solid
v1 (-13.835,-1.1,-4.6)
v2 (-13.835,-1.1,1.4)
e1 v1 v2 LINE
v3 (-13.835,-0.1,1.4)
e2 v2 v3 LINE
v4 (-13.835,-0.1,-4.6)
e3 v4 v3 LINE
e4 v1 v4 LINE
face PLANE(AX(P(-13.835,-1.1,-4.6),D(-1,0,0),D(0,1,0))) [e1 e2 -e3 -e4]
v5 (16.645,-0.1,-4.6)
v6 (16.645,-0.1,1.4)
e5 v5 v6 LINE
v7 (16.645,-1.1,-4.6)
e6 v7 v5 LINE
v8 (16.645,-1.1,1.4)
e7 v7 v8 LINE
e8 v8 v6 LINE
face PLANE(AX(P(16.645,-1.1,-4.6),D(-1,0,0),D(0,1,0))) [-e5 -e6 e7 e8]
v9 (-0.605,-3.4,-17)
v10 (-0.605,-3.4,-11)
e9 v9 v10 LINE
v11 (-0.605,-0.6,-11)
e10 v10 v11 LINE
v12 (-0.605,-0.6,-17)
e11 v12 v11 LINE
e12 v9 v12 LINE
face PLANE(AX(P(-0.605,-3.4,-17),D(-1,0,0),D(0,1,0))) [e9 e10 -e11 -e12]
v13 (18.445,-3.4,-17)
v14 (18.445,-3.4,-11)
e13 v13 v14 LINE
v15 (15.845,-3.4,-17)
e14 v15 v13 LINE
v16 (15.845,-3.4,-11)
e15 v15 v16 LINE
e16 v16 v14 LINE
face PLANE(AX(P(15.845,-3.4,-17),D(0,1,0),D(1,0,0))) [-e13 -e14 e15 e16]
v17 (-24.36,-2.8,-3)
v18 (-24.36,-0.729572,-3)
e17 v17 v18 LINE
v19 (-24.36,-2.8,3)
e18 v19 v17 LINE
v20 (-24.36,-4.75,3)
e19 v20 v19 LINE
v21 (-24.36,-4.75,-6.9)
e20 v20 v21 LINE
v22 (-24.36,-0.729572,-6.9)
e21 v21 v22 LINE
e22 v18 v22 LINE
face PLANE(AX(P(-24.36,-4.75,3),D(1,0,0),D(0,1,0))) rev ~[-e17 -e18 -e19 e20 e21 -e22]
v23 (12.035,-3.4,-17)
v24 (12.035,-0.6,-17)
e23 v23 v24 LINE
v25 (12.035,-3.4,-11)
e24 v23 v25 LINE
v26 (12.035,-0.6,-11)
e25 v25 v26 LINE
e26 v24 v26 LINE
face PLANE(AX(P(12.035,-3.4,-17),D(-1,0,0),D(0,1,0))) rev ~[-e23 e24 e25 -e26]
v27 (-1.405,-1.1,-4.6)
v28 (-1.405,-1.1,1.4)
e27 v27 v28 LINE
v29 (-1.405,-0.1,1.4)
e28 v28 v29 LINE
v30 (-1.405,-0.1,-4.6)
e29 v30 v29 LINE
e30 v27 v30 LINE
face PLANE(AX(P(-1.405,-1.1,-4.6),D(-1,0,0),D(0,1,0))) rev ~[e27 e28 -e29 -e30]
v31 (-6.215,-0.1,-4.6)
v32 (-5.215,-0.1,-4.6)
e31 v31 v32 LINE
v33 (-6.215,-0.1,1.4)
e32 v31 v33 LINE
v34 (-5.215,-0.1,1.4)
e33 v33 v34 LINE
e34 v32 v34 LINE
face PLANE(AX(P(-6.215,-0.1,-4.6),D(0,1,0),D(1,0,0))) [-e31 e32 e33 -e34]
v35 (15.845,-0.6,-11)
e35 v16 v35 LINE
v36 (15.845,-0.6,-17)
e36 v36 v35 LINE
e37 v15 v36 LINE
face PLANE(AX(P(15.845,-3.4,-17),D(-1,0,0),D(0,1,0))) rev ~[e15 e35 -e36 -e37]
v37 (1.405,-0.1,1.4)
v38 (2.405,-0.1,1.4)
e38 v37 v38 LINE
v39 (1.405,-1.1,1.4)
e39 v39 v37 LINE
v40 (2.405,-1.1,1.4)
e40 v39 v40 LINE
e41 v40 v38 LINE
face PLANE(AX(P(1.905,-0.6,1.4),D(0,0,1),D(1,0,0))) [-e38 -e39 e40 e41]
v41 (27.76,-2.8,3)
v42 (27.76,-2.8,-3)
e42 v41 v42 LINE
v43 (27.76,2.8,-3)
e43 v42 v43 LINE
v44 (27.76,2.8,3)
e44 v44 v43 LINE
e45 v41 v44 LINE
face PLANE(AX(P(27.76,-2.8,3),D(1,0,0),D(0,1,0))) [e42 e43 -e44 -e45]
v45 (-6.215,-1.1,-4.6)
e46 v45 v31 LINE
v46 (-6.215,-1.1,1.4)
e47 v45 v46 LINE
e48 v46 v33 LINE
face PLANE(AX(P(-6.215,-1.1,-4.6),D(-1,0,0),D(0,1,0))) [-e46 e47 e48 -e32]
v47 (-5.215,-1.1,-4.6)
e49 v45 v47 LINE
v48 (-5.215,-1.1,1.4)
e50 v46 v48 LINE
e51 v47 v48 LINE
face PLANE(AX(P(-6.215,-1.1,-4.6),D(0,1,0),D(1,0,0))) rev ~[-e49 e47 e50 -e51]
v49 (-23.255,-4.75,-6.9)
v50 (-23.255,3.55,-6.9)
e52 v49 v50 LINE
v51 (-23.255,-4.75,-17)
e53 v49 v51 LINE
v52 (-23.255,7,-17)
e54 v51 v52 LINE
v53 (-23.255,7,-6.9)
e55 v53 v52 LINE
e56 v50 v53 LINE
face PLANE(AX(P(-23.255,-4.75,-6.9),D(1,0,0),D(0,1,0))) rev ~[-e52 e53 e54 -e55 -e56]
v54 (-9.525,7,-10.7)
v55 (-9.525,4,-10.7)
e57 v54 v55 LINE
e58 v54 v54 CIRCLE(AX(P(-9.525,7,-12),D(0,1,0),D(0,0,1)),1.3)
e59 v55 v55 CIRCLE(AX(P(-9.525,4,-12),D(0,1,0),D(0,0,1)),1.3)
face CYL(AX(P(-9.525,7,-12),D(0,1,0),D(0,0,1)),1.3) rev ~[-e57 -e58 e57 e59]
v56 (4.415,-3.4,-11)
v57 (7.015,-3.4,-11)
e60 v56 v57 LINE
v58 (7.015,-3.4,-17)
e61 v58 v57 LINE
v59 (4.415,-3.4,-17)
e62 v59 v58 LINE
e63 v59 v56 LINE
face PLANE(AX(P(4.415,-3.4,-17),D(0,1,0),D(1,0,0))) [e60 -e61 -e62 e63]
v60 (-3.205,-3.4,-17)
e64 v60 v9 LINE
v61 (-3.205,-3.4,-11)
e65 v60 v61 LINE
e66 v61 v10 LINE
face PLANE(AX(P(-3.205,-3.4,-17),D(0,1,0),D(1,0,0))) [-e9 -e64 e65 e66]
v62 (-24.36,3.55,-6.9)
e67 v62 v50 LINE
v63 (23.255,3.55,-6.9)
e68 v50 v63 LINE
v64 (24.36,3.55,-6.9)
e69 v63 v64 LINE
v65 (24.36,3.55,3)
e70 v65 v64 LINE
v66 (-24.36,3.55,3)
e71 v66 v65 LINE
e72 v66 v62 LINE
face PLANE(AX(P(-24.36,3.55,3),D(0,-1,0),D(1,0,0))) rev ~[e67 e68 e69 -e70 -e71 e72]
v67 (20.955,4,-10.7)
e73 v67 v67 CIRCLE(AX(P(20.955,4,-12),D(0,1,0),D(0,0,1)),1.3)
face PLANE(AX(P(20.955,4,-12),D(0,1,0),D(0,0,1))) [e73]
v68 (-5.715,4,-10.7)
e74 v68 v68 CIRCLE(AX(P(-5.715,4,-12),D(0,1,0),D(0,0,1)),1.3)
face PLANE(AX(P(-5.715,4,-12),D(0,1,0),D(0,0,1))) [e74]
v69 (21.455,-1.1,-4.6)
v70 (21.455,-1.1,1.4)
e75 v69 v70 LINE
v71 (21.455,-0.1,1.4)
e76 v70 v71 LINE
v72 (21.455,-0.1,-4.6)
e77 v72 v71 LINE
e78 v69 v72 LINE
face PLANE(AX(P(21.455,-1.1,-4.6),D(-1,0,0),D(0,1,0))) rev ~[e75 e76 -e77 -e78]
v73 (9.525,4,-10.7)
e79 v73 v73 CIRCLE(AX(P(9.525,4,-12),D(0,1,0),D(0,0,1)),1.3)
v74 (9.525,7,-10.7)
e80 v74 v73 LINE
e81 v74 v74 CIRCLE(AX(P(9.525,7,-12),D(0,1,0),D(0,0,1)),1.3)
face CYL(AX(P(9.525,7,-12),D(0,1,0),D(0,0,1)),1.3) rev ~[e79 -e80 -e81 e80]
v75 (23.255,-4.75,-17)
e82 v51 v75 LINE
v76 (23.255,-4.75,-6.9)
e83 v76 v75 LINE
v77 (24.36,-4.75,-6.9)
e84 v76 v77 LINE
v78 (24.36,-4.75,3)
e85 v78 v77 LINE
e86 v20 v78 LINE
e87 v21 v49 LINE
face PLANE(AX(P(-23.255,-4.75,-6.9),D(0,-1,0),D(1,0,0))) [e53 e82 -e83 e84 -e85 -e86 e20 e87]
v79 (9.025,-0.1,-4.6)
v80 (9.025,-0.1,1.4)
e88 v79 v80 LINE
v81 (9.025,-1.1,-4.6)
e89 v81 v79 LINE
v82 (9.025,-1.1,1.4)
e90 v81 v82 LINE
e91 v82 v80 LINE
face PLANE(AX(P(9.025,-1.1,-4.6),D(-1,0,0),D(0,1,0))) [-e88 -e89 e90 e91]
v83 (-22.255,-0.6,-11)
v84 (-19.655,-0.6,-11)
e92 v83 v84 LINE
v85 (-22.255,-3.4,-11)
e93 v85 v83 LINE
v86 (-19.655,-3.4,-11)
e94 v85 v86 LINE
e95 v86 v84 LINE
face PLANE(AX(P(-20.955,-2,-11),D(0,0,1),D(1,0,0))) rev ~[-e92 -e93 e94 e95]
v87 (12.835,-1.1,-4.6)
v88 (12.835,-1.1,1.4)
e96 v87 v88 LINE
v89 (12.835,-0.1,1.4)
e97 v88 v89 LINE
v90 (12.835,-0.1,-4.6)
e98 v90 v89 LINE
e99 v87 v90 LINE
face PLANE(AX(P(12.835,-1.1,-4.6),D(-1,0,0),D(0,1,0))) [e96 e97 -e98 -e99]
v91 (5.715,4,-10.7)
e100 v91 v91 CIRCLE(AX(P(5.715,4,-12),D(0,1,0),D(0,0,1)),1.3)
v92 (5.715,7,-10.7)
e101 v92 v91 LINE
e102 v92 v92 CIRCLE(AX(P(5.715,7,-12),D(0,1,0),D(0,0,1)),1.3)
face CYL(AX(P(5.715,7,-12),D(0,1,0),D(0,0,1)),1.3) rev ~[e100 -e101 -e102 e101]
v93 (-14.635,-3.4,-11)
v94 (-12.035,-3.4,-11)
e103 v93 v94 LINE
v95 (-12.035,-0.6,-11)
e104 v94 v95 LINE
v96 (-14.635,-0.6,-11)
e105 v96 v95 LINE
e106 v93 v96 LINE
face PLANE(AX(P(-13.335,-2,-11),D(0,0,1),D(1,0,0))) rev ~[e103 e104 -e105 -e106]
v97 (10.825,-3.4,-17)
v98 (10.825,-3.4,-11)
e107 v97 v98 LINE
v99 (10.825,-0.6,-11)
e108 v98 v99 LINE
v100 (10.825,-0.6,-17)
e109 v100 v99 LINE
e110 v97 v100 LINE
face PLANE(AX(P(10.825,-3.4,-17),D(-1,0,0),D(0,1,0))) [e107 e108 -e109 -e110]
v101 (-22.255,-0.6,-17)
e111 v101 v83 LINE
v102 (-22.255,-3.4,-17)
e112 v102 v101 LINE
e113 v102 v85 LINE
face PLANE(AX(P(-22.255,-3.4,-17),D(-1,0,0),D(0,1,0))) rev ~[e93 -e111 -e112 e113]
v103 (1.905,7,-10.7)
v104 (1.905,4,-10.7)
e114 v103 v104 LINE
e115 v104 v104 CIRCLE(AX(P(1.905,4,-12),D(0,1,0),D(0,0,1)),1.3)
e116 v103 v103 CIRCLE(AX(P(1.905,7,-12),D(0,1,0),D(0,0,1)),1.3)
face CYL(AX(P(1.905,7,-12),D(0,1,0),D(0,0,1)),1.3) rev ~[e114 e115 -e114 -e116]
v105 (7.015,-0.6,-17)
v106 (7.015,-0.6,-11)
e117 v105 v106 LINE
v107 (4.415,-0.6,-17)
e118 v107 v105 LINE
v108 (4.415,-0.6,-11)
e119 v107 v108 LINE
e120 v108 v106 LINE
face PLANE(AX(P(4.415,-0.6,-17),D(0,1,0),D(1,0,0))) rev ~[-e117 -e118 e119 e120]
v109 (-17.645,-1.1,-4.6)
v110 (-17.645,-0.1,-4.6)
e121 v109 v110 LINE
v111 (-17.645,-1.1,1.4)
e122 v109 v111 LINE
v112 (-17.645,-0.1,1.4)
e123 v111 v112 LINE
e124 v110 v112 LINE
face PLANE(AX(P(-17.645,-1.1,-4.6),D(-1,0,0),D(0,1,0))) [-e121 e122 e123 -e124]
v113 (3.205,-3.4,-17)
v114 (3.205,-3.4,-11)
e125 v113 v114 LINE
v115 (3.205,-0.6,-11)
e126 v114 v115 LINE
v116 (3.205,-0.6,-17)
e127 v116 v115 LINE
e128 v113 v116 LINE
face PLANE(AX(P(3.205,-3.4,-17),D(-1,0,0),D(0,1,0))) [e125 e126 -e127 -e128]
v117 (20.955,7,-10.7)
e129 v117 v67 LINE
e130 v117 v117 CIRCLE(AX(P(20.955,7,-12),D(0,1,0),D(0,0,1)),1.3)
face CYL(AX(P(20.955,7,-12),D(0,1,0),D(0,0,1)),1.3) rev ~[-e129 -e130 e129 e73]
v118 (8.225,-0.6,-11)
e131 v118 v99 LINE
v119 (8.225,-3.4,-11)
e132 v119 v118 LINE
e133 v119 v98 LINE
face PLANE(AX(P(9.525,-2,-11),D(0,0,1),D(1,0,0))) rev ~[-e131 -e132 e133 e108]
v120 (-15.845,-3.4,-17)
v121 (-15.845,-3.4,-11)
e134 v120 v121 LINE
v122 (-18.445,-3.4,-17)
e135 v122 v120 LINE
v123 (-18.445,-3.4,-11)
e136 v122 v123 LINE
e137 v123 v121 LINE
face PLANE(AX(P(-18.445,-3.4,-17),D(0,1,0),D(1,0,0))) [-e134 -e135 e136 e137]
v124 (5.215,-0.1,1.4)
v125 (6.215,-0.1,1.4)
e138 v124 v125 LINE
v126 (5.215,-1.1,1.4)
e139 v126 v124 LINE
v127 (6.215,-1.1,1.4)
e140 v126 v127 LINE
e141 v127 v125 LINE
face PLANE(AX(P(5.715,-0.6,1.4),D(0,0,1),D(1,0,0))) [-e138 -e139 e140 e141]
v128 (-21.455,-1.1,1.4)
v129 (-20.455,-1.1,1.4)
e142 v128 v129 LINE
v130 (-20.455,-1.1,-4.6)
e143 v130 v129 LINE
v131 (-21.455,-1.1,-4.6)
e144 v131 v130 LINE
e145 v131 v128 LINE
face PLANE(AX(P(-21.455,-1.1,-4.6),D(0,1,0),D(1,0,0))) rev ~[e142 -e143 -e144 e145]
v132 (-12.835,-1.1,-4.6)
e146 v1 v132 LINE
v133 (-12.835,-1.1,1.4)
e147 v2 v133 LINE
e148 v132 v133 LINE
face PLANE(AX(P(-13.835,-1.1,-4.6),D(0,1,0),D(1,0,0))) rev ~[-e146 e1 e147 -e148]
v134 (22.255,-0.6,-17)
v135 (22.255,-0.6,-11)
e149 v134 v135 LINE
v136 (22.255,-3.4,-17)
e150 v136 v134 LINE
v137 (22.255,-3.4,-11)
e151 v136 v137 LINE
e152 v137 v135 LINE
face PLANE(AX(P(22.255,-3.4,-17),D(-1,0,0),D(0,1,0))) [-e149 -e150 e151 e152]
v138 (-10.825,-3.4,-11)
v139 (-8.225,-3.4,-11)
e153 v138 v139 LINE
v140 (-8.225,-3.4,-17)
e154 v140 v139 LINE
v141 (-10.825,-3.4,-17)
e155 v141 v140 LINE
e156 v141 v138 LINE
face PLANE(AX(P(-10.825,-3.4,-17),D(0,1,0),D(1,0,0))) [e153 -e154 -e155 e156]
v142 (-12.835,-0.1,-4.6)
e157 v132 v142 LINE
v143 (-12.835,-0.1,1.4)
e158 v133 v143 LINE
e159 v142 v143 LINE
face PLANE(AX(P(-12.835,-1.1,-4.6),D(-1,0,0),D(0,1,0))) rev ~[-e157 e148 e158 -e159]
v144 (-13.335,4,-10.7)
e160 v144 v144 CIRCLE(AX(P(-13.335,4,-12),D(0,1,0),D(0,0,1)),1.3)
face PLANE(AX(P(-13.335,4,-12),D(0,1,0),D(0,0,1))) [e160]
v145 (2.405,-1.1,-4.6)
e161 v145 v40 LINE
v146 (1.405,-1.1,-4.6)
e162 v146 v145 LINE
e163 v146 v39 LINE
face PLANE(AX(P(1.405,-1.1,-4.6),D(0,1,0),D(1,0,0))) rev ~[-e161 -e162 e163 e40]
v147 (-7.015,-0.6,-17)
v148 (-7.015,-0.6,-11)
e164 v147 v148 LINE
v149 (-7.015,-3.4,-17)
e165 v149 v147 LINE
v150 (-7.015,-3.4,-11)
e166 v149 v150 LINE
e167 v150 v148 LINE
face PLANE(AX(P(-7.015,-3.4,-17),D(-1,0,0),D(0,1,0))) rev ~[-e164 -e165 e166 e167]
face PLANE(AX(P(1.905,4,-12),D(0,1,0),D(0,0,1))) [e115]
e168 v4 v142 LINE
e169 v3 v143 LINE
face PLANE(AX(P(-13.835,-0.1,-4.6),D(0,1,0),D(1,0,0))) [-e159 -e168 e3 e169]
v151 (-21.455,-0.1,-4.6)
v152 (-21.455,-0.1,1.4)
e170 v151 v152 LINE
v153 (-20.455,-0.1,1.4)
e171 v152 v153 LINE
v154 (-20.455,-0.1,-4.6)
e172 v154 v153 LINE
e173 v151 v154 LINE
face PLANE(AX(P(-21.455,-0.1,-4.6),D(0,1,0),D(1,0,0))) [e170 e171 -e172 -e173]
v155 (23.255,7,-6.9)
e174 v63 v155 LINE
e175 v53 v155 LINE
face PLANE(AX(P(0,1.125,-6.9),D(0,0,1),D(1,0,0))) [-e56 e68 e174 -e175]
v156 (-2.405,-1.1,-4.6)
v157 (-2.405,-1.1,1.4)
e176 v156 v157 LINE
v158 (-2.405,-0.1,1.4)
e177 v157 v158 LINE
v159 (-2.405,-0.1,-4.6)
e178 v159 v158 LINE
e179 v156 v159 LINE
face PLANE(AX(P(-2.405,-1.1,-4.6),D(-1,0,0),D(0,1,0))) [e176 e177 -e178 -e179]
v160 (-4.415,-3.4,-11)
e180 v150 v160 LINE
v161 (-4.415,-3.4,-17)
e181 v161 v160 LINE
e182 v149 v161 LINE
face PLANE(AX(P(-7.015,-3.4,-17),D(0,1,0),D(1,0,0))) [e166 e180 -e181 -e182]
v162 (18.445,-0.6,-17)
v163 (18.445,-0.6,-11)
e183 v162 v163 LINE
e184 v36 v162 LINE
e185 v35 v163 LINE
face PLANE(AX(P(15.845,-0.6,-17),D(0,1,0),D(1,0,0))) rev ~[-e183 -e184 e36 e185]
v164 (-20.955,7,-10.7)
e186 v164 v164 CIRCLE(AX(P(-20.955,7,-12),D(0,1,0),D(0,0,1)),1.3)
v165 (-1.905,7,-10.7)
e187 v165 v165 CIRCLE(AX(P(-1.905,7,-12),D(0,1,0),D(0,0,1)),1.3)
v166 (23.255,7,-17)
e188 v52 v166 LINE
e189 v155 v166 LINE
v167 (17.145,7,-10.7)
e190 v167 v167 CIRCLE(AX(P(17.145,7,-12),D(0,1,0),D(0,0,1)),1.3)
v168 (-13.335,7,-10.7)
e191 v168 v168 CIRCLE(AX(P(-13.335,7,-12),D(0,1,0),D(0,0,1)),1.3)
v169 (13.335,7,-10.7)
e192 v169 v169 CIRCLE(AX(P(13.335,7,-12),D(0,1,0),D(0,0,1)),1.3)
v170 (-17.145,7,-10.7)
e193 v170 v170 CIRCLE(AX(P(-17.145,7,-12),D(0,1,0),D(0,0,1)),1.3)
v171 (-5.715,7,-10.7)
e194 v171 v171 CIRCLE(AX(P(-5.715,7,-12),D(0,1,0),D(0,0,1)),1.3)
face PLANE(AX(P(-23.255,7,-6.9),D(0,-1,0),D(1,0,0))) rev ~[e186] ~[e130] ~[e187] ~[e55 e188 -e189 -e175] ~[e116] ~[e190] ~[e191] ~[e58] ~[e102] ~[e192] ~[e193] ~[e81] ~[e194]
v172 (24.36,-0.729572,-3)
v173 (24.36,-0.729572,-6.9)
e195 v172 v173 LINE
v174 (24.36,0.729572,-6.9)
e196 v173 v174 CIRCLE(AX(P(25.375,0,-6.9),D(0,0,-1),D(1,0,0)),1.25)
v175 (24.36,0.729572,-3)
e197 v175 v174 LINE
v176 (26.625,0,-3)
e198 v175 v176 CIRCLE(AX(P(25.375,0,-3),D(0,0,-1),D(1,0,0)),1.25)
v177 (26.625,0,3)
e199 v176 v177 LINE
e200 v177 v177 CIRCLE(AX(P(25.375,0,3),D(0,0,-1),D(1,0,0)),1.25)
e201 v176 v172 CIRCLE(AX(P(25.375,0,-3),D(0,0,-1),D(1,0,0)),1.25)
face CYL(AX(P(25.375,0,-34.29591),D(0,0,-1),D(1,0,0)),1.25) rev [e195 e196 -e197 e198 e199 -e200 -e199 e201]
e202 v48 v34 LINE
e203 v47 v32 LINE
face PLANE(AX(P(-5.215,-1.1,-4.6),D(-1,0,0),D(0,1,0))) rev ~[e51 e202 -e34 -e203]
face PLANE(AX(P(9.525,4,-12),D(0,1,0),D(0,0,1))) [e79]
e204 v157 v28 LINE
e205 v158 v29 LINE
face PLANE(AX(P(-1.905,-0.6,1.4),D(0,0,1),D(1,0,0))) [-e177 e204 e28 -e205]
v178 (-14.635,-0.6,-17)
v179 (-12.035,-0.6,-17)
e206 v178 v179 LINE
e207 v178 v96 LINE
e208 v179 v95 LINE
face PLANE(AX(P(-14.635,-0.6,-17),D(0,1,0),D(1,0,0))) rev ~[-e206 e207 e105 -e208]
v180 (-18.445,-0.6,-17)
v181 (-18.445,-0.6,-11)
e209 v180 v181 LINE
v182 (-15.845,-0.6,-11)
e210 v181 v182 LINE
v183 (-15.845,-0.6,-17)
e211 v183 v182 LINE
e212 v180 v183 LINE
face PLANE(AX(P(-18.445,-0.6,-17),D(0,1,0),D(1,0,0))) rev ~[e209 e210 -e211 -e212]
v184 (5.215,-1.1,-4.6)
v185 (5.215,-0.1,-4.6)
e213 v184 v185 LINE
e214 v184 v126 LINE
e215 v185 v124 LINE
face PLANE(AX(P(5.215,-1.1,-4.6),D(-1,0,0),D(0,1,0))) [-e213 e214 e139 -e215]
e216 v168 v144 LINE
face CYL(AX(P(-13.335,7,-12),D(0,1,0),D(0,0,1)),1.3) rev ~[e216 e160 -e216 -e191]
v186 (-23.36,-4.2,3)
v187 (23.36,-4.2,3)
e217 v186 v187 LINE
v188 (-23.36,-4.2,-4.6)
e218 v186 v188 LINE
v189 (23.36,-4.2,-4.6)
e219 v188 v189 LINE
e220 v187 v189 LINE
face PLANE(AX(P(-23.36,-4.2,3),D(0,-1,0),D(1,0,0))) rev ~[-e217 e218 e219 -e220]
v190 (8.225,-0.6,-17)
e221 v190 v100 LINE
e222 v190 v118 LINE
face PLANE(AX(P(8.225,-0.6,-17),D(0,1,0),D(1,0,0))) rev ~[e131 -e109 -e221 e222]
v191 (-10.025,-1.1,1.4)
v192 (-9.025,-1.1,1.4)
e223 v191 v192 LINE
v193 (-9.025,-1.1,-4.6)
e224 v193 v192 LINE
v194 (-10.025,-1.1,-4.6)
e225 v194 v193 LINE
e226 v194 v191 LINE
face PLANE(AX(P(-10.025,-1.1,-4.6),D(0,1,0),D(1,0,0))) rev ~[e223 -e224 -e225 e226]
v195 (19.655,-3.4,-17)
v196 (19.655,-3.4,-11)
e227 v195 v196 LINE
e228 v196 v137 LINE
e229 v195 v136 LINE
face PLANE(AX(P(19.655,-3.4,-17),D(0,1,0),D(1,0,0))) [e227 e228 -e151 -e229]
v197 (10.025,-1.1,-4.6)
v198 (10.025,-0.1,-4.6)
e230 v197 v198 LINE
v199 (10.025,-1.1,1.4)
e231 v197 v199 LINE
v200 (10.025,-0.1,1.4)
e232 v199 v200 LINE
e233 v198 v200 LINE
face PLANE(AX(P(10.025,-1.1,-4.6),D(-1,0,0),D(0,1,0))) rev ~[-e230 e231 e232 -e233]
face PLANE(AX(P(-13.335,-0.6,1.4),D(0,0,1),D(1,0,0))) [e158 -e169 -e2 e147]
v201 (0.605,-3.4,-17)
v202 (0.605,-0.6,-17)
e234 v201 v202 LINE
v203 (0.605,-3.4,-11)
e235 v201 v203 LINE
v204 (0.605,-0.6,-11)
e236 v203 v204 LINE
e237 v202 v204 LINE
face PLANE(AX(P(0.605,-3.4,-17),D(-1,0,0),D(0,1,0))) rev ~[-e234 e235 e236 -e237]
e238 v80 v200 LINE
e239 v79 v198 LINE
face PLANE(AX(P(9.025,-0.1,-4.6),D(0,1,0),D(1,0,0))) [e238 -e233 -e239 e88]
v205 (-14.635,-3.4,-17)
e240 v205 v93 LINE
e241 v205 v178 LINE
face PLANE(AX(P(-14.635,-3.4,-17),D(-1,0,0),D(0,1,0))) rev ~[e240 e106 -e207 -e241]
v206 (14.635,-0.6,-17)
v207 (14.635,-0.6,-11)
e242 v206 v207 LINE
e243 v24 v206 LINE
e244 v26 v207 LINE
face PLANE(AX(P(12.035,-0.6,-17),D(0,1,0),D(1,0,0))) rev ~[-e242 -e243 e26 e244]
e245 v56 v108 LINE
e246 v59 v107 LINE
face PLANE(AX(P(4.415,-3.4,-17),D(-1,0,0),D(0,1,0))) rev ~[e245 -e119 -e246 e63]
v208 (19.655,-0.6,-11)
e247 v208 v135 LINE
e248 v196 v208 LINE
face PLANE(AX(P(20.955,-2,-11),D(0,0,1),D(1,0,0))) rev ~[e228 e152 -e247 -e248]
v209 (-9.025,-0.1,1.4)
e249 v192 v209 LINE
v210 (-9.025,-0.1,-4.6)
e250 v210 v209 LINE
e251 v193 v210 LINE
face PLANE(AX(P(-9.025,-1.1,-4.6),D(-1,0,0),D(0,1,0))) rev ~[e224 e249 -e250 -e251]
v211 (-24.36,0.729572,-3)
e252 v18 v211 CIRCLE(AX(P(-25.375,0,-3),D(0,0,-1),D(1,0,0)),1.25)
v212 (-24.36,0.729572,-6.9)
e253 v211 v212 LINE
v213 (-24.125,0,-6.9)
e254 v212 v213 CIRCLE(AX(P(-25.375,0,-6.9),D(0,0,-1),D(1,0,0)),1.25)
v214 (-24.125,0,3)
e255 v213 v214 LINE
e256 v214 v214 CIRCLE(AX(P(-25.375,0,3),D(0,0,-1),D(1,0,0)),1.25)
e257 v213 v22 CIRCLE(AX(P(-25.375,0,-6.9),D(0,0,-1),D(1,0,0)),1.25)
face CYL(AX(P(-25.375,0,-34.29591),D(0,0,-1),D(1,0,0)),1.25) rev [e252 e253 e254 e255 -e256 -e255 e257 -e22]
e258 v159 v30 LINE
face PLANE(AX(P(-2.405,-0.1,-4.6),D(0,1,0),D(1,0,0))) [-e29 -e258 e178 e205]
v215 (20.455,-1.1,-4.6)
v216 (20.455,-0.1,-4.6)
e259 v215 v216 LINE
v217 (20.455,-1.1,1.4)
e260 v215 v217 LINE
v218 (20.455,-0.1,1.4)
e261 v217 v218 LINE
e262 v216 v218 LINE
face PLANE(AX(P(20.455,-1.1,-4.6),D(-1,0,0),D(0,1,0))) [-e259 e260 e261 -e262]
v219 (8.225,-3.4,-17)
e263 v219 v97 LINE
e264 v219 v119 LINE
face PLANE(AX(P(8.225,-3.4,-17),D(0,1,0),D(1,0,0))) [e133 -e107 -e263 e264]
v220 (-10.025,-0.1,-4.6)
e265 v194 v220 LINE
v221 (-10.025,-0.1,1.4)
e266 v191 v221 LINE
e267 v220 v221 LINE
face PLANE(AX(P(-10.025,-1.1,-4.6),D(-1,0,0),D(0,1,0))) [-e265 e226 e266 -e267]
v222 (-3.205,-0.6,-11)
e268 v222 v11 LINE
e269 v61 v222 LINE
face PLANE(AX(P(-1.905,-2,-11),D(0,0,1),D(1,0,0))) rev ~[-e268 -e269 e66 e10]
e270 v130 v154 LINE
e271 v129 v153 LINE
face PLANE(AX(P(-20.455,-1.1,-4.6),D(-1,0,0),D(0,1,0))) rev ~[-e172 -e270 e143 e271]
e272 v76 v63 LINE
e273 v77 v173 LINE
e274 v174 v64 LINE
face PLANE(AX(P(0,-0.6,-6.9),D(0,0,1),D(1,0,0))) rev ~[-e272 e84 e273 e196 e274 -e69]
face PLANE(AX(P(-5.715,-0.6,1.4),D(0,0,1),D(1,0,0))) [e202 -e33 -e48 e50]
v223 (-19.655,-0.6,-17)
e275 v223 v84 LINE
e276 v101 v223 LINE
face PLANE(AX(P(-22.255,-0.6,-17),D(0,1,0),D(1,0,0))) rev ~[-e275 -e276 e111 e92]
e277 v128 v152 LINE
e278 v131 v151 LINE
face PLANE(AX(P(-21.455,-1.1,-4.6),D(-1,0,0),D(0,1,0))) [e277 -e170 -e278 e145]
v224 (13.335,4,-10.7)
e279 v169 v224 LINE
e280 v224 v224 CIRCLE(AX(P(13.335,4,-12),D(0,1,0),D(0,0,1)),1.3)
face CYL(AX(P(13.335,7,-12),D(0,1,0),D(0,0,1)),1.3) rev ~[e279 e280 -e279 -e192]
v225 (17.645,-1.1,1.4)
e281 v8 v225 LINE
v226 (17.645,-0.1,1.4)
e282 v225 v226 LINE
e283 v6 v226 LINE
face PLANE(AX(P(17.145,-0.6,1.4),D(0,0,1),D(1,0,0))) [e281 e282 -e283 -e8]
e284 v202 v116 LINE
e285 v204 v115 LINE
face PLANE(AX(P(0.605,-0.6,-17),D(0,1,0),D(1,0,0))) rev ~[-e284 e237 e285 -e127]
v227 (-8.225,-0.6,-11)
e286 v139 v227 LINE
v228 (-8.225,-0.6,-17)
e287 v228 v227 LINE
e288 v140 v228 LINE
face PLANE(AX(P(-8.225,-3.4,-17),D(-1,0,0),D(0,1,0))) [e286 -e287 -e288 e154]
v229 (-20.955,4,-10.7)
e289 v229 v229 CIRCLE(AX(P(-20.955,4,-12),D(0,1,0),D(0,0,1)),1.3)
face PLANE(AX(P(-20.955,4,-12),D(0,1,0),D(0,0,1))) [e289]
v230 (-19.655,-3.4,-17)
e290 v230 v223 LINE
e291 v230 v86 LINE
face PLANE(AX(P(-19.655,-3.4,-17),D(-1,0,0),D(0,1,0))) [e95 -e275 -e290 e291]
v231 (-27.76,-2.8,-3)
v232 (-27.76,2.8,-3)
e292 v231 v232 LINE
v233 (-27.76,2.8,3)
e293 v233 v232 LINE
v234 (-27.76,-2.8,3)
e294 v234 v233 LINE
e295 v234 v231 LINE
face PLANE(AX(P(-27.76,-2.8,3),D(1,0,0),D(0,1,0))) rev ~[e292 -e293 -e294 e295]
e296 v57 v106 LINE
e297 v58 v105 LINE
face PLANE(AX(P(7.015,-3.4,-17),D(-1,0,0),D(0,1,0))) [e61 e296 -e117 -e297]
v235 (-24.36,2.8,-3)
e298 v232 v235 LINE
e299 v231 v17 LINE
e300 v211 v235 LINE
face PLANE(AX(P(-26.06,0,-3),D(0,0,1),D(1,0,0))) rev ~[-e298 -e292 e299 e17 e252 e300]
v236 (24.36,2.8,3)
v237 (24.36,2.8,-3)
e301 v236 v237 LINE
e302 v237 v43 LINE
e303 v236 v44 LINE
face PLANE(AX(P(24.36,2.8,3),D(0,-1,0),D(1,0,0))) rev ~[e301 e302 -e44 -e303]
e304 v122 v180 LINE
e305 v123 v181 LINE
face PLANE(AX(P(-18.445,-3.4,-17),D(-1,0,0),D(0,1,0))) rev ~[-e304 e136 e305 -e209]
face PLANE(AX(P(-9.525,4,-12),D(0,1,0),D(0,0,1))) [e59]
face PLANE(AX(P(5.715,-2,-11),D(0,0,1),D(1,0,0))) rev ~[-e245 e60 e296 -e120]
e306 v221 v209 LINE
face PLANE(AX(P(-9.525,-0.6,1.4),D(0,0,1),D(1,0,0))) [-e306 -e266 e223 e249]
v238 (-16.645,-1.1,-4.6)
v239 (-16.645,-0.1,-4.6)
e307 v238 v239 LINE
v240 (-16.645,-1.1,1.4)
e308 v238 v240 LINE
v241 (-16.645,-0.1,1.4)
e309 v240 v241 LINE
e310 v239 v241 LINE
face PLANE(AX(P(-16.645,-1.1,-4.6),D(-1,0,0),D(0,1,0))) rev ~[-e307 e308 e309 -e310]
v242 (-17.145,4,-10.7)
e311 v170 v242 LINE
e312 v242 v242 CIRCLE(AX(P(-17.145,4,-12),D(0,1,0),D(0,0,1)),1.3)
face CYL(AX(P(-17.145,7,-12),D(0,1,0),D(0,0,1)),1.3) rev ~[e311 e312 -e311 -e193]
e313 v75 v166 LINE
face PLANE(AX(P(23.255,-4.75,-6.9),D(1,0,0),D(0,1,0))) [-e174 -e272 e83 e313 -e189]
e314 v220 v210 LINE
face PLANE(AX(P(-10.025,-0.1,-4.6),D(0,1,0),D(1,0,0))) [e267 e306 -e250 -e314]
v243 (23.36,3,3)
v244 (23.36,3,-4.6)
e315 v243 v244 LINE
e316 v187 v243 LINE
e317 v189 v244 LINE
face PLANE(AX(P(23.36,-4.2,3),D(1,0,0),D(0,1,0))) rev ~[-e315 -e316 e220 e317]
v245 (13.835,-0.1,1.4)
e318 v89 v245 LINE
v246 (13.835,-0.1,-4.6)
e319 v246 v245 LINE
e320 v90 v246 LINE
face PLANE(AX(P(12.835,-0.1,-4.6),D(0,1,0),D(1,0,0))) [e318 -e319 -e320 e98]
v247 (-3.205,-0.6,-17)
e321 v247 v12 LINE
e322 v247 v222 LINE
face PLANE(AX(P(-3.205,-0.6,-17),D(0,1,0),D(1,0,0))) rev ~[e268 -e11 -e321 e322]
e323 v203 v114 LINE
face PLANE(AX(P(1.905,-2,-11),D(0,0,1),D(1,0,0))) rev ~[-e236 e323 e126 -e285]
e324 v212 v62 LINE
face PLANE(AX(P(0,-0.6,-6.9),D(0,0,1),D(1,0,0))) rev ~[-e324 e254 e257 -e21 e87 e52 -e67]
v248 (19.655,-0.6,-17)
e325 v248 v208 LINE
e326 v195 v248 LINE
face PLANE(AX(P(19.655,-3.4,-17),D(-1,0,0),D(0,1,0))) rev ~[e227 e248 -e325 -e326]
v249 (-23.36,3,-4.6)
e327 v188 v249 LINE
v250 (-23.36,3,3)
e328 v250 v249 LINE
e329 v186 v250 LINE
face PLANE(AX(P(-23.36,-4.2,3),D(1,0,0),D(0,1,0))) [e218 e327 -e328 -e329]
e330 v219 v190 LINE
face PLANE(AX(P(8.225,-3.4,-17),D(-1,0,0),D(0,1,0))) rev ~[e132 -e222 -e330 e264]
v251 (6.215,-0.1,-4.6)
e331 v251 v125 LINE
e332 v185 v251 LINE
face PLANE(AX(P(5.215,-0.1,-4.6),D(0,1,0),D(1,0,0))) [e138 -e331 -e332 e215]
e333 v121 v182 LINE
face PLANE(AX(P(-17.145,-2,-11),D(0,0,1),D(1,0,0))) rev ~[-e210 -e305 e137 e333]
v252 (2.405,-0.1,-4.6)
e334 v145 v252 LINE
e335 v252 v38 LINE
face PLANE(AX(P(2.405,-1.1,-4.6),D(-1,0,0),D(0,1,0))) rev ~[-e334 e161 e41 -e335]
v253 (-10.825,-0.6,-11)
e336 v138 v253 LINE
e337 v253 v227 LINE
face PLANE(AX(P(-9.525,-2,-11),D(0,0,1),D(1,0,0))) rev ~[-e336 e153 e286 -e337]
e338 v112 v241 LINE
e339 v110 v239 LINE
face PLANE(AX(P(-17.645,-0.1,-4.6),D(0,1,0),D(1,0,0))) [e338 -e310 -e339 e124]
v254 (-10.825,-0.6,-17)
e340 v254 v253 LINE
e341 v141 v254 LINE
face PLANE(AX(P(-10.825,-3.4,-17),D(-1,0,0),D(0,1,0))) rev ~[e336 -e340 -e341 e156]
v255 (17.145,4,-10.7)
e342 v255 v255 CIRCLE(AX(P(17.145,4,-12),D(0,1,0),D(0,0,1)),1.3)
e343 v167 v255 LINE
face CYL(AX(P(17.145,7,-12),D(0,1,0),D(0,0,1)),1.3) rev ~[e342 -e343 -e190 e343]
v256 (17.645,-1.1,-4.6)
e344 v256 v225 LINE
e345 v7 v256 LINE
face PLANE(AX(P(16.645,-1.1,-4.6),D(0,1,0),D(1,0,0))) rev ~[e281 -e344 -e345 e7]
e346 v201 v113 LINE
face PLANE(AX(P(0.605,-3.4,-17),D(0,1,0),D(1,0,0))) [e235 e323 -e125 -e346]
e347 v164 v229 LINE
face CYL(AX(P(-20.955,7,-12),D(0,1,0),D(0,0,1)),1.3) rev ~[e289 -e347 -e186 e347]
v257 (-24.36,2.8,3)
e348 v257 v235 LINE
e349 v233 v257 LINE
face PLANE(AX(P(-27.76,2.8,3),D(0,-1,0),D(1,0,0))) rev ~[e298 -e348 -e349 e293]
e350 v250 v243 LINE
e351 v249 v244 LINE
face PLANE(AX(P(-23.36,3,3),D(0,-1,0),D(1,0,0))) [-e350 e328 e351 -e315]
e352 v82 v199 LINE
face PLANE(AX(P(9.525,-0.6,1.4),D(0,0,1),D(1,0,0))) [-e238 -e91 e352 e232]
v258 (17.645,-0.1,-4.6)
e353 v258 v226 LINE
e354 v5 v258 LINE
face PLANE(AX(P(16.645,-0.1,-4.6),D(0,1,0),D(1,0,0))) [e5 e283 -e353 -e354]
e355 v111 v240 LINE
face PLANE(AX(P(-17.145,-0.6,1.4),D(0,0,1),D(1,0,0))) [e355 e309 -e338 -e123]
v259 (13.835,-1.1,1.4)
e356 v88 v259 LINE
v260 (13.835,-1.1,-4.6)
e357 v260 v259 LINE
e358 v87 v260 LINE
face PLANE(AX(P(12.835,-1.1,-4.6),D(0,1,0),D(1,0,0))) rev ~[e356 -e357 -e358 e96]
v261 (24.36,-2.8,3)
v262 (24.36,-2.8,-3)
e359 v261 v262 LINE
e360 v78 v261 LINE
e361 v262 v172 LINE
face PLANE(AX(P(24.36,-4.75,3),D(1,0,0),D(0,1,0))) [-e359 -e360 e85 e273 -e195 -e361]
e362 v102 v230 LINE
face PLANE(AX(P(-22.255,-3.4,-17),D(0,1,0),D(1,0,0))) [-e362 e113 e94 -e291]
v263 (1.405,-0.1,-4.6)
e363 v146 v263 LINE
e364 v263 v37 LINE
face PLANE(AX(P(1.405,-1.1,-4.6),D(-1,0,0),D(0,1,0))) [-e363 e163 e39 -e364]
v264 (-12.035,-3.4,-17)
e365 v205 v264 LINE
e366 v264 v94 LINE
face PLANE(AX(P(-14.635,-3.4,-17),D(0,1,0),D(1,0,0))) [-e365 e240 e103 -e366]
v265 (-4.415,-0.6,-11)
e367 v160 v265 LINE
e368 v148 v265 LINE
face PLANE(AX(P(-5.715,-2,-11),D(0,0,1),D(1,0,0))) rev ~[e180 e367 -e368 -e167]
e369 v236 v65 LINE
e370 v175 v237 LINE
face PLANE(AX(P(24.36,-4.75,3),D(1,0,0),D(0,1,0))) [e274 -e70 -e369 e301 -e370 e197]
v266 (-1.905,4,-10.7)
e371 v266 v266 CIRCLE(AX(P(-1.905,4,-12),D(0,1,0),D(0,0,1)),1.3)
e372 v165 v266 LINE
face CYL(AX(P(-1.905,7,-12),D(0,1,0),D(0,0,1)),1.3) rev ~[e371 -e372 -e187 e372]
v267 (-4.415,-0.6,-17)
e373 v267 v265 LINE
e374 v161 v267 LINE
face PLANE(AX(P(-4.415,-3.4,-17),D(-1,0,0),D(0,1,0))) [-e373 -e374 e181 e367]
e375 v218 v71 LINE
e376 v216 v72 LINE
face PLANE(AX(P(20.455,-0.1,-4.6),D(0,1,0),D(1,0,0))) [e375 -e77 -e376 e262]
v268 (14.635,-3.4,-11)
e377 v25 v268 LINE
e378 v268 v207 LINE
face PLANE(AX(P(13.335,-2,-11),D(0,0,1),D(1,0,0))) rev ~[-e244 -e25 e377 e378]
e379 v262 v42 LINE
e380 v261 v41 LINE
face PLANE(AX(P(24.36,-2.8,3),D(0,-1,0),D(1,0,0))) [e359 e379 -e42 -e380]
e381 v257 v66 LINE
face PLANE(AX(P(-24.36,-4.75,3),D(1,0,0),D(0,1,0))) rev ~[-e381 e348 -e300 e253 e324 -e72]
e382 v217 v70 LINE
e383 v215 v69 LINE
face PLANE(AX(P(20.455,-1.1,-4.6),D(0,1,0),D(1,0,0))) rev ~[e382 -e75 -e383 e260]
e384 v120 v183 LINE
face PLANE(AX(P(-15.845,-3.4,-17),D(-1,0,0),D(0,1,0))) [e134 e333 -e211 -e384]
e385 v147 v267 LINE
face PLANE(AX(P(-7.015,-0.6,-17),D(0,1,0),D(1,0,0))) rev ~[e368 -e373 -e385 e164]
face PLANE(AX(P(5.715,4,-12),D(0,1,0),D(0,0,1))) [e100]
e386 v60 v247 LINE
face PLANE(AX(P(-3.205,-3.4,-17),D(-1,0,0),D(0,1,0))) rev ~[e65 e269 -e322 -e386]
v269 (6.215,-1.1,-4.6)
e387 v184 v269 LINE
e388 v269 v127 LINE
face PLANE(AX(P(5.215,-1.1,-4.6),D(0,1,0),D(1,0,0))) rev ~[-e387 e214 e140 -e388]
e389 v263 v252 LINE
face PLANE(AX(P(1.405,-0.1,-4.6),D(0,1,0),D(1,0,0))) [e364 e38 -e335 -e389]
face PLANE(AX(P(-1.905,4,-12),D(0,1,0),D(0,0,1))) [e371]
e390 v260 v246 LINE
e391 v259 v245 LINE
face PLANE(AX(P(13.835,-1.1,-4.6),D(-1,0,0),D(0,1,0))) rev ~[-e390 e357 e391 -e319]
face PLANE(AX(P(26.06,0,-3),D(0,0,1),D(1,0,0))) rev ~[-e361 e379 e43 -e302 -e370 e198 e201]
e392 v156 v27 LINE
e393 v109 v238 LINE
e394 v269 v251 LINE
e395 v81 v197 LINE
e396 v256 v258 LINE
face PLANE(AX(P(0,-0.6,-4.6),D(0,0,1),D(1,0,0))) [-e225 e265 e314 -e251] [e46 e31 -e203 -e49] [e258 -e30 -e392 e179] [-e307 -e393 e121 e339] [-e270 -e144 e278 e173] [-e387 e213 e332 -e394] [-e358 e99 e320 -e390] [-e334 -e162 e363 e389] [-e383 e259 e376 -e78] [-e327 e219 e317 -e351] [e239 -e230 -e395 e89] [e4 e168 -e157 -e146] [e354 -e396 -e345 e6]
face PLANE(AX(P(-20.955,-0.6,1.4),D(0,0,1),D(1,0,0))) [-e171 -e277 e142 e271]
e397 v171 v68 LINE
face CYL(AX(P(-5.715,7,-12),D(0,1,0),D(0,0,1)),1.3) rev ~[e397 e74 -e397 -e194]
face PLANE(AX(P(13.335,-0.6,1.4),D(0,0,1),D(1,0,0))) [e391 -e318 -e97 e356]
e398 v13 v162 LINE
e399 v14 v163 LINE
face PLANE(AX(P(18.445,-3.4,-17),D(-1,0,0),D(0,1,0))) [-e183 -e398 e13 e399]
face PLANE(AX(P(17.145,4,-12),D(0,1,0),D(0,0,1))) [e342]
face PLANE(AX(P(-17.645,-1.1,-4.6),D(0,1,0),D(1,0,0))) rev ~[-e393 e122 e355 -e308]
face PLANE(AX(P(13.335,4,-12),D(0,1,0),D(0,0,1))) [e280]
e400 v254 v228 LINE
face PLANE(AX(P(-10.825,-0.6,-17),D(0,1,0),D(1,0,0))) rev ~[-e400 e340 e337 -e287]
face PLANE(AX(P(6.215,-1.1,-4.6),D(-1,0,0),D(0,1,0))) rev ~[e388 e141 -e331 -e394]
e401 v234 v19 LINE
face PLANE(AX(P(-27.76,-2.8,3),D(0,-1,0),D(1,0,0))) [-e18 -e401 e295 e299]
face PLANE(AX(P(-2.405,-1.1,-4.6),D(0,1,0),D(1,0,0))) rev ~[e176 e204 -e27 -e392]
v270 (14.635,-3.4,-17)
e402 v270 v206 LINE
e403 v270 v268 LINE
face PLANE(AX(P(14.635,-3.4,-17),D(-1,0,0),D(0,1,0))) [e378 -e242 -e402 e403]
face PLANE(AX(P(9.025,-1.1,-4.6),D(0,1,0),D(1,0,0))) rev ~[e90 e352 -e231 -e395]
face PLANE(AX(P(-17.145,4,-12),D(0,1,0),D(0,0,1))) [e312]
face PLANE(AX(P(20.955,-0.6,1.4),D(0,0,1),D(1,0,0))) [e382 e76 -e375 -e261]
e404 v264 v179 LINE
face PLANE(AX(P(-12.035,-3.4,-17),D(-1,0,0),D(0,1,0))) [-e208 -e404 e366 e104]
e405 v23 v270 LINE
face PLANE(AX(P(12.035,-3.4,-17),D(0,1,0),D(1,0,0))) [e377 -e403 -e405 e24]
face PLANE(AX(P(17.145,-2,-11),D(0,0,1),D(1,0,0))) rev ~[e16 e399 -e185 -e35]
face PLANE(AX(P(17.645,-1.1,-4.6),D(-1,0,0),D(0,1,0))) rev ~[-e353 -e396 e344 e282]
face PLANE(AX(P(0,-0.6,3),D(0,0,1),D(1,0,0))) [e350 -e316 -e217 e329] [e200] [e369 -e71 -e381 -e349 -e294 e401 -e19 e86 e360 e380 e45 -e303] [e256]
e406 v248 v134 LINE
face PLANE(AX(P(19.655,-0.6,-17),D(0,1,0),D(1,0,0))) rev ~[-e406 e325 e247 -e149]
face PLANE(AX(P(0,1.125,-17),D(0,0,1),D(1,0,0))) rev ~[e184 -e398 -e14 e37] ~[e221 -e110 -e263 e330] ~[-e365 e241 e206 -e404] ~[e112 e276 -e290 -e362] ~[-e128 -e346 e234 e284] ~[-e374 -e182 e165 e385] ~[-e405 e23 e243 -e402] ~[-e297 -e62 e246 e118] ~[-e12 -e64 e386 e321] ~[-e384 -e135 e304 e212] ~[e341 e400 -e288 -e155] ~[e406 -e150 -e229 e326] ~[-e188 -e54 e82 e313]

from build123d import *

# Parameters (mm, degrees)
SK_SHROUD_W             = 48.72
SK_SHROUD_H             = 8.3
SHROUD_DEPTH            = 9.9
SK_FLANGE_EARS_W        = 3.4
SK_FLANGE_EARS_H        = 5.6
FLANGE_EARS_DEPTH       = 6
SK_CAVITY_W             = 46.72
SK_CAVITY_H             = 7.2
CAVITY_DEPTH            = 7.6
SK_TERMINAL_BLOCK_W     = 46.51
SK_TERMINAL_BLOCK_H     = 11.75
TERMINAL_BLOCK_DEPTH    = 10.1
INSERT_HOLES_DEPTH      = 34.295909659
INSERT_HOLES_DEPTH_BACK = 34.295909659
SK_INSERT_HOLES_R       = 1.25
SK_CONTACT_PINS_W       = 1
SK_CONTACT_PINS_H       = 1
CONTACT_PINS_DEPTH      = 6
SK_WIRE_ENTRIES_W       = 2.6
SK_WIRE_ENTRIES_H       = 2.8
WIRE_ENTRIES_DEPTH      = 6
SK_CLAMP_SCREW_HOLES_R  = 1.3
CLAMP_SCREW_HOLES_DEPTH = 3


with BuildPart() as part:
    # SK Shroud → Shroud (new body)
    with BuildSketch(Plane.XY.offset(3)):
        with Locations((0, -0.6)):
            Rectangle(SK_SHROUD_W, SK_SHROUD_H)
    extrude(amount=-SHROUD_DEPTH)

    # SK Flange ears → Flange ears (add)
    with BuildSketch(Plane.XY.offset(3)):
        with Locations((26.06, 0)):
            Rectangle(SK_FLANGE_EARS_W, SK_FLANGE_EARS_H)
        with Locations((-26.06, 0)):
            Rectangle(SK_FLANGE_EARS_W, SK_FLANGE_EARS_H)
    extrude(amount=-FLANGE_EARS_DEPTH)

    # SK Cavity → Cavity (cut)
    with BuildSketch(Plane.XY.offset(3)):
        with Locations((0, -0.6)):
            Rectangle(SK_CAVITY_W, SK_CAVITY_H)
    extrude(amount=-CAVITY_DEPTH, mode=Mode.SUBTRACT)

    # SK Terminal block → Terminal block (add)
    with BuildSketch(Plane.XY.offset(-6.9)):
        with Locations((0, 1.125)):
            Rectangle(SK_TERMINAL_BLOCK_W, SK_TERMINAL_BLOCK_H)
    extrude(amount=-TERMINAL_BLOCK_DEPTH)

    # SK Insert holes → Insert holes (cut, two sides: drawn at the far end of the back side and taken through both)
    with BuildSketch(Plane.XY.offset(-INSERT_HOLES_DEPTH_BACK)):
        with Locations((-25.375, 0)):
            Circle(SK_INSERT_HOLES_R)
        with Locations((25.375, 0)):
            Circle(SK_INSERT_HOLES_R)
    extrude(amount=INSERT_HOLES_DEPTH + INSERT_HOLES_DEPTH_BACK, mode=Mode.SUBTRACT)

    # SK Contact pins → Contact pins (add)
    with BuildSketch(Plane.XY.offset(-4.6)):
        with Locations((-20.955, -0.6)):
            Rectangle(SK_CONTACT_PINS_W, SK_CONTACT_PINS_H)
        with Locations((-17.145, -0.6)):
            Rectangle(SK_CONTACT_PINS_W, SK_CONTACT_PINS_H)
        with Locations((-13.335, -0.6)):
            Rectangle(SK_CONTACT_PINS_W, SK_CONTACT_PINS_H)
        with Locations((-9.525, -0.6)):
            Rectangle(SK_CONTACT_PINS_W, SK_CONTACT_PINS_H)
        with Locations((-5.715, -0.6)):
            Rectangle(SK_CONTACT_PINS_W, SK_CONTACT_PINS_H)
        with Locations((-1.905, -0.6)):
            Rectangle(SK_CONTACT_PINS_W, SK_CONTACT_PINS_H)
        with Locations((1.905, -0.6)):
            Rectangle(SK_CONTACT_PINS_W, SK_CONTACT_PINS_H)
        with Locations((5.715, -0.6)):
            Rectangle(SK_CONTACT_PINS_W, SK_CONTACT_PINS_H)
        with Locations((9.525, -0.6)):
            Rectangle(SK_CONTACT_PINS_W, SK_CONTACT_PINS_H)
        with Locations((13.335, -0.6)):
            Rectangle(SK_CONTACT_PINS_W, SK_CONTACT_PINS_H)
        with Locations((17.145, -0.6)):
            Rectangle(SK_CONTACT_PINS_W, SK_CONTACT_PINS_H)
        with Locations((20.955, -0.6)):
            Rectangle(SK_CONTACT_PINS_W, SK_CONTACT_PINS_H)
    extrude(amount=CONTACT_PINS_DEPTH)

    # SK Wire entries → Wire entries (cut)
    with BuildSketch(Plane.XY.offset(-17)):
        with Locations((-20.955, -2)):
            Rectangle(SK_WIRE_ENTRIES_W, SK_WIRE_ENTRIES_H)
        with Locations((-17.145, -2)):
            Rectangle(SK_WIRE_ENTRIES_W, SK_WIRE_ENTRIES_H)
        with Locations((-13.335, -2)):
            Rectangle(SK_WIRE_ENTRIES_W, SK_WIRE_ENTRIES_H)
        with Locations((-9.525, -2)):
            Rectangle(SK_WIRE_ENTRIES_W, SK_WIRE_ENTRIES_H)
        with Locations((-5.715, -2)):
            Rectangle(SK_WIRE_ENTRIES_W, SK_WIRE_ENTRIES_H)
        with Locations((-1.905, -2)):
            Rectangle(SK_WIRE_ENTRIES_W, SK_WIRE_ENTRIES_H)
        with Locations((1.905, -2)):
            Rectangle(SK_WIRE_ENTRIES_W, SK_WIRE_ENTRIES_H)
        with Locations((5.715, -2)):
            Rectangle(SK_WIRE_ENTRIES_W, SK_WIRE_ENTRIES_H)
        with Locations((9.525, -2)):
            Rectangle(SK_WIRE_ENTRIES_W, SK_WIRE_ENTRIES_H)
        with Locations((13.335, -2)):
            Rectangle(SK_WIRE_ENTRIES_W, SK_WIRE_ENTRIES_H)
        with Locations((17.145, -2)):
            Rectangle(SK_WIRE_ENTRIES_W, SK_WIRE_ENTRIES_H)
        with Locations((20.955, -2)):
            Rectangle(SK_WIRE_ENTRIES_W, SK_WIRE_ENTRIES_H)
    extrude(amount=WIRE_ENTRIES_DEPTH, mode=Mode.SUBTRACT)

    # SK Clamp screw holes → Clamp screw holes (cut)
    with BuildSketch(Plane(origin=(0, 7, 0), x_dir=(1, 0, 0), z_dir=(0, 1, 0))):
        with Locations(Location((-20.955, 12, 0), (0, 0, 270))):
            Circle(SK_CLAMP_SCREW_HOLES_R)
        with Locations(Location((-17.145, 12, 0), (0, 0, 270))):
            Circle(SK_CLAMP_SCREW_HOLES_R)
        with Locations(Location((-13.335, 12, 0), (0, 0, 270))):
            Circle(SK_CLAMP_SCREW_HOLES_R)
        with Locations(Location((-9.525, 12, 0), (0, 0, 270))):
            Circle(SK_CLAMP_SCREW_HOLES_R)
        with Locations(Location((-5.715, 12, 0), (0, 0, 270))):
            Circle(SK_CLAMP_SCREW_HOLES_R)
        with Locations(Location((-1.905, 12, 0), (0, 0, 270))):
            Circle(SK_CLAMP_SCREW_HOLES_R)
        with Locations(Location((1.905, 12, 0), (0, 0, 270))):
            Circle(SK_CLAMP_SCREW_HOLES_R)
        with Locations(Location((5.715, 12, 0), (0, 0, 270))):
            Circle(SK_CLAMP_SCREW_HOLES_R)
        with Locations(Location((9.525, 12, 0), (0, 0, 270))):
            Circle(SK_CLAMP_SCREW_HOLES_R)
        with Locations(Location((13.335, 12, 0), (0, 0, 270))):
            Circle(SK_CLAMP_SCREW_HOLES_R)
        with Locations(Location((17.145, 12, 0), (0, 0, 270))):
            Circle(SK_CLAMP_SCREW_HOLES_R)
        with Locations(Location((20.955, 12, 0), (0, 0, 270))):
            Circle(SK_CLAMP_SCREW_HOLES_R)
    extrude(amount=-CLAMP_SCREW_HOLES_DEPTH, mode=Mode.SUBTRACT)


solid = part.part
